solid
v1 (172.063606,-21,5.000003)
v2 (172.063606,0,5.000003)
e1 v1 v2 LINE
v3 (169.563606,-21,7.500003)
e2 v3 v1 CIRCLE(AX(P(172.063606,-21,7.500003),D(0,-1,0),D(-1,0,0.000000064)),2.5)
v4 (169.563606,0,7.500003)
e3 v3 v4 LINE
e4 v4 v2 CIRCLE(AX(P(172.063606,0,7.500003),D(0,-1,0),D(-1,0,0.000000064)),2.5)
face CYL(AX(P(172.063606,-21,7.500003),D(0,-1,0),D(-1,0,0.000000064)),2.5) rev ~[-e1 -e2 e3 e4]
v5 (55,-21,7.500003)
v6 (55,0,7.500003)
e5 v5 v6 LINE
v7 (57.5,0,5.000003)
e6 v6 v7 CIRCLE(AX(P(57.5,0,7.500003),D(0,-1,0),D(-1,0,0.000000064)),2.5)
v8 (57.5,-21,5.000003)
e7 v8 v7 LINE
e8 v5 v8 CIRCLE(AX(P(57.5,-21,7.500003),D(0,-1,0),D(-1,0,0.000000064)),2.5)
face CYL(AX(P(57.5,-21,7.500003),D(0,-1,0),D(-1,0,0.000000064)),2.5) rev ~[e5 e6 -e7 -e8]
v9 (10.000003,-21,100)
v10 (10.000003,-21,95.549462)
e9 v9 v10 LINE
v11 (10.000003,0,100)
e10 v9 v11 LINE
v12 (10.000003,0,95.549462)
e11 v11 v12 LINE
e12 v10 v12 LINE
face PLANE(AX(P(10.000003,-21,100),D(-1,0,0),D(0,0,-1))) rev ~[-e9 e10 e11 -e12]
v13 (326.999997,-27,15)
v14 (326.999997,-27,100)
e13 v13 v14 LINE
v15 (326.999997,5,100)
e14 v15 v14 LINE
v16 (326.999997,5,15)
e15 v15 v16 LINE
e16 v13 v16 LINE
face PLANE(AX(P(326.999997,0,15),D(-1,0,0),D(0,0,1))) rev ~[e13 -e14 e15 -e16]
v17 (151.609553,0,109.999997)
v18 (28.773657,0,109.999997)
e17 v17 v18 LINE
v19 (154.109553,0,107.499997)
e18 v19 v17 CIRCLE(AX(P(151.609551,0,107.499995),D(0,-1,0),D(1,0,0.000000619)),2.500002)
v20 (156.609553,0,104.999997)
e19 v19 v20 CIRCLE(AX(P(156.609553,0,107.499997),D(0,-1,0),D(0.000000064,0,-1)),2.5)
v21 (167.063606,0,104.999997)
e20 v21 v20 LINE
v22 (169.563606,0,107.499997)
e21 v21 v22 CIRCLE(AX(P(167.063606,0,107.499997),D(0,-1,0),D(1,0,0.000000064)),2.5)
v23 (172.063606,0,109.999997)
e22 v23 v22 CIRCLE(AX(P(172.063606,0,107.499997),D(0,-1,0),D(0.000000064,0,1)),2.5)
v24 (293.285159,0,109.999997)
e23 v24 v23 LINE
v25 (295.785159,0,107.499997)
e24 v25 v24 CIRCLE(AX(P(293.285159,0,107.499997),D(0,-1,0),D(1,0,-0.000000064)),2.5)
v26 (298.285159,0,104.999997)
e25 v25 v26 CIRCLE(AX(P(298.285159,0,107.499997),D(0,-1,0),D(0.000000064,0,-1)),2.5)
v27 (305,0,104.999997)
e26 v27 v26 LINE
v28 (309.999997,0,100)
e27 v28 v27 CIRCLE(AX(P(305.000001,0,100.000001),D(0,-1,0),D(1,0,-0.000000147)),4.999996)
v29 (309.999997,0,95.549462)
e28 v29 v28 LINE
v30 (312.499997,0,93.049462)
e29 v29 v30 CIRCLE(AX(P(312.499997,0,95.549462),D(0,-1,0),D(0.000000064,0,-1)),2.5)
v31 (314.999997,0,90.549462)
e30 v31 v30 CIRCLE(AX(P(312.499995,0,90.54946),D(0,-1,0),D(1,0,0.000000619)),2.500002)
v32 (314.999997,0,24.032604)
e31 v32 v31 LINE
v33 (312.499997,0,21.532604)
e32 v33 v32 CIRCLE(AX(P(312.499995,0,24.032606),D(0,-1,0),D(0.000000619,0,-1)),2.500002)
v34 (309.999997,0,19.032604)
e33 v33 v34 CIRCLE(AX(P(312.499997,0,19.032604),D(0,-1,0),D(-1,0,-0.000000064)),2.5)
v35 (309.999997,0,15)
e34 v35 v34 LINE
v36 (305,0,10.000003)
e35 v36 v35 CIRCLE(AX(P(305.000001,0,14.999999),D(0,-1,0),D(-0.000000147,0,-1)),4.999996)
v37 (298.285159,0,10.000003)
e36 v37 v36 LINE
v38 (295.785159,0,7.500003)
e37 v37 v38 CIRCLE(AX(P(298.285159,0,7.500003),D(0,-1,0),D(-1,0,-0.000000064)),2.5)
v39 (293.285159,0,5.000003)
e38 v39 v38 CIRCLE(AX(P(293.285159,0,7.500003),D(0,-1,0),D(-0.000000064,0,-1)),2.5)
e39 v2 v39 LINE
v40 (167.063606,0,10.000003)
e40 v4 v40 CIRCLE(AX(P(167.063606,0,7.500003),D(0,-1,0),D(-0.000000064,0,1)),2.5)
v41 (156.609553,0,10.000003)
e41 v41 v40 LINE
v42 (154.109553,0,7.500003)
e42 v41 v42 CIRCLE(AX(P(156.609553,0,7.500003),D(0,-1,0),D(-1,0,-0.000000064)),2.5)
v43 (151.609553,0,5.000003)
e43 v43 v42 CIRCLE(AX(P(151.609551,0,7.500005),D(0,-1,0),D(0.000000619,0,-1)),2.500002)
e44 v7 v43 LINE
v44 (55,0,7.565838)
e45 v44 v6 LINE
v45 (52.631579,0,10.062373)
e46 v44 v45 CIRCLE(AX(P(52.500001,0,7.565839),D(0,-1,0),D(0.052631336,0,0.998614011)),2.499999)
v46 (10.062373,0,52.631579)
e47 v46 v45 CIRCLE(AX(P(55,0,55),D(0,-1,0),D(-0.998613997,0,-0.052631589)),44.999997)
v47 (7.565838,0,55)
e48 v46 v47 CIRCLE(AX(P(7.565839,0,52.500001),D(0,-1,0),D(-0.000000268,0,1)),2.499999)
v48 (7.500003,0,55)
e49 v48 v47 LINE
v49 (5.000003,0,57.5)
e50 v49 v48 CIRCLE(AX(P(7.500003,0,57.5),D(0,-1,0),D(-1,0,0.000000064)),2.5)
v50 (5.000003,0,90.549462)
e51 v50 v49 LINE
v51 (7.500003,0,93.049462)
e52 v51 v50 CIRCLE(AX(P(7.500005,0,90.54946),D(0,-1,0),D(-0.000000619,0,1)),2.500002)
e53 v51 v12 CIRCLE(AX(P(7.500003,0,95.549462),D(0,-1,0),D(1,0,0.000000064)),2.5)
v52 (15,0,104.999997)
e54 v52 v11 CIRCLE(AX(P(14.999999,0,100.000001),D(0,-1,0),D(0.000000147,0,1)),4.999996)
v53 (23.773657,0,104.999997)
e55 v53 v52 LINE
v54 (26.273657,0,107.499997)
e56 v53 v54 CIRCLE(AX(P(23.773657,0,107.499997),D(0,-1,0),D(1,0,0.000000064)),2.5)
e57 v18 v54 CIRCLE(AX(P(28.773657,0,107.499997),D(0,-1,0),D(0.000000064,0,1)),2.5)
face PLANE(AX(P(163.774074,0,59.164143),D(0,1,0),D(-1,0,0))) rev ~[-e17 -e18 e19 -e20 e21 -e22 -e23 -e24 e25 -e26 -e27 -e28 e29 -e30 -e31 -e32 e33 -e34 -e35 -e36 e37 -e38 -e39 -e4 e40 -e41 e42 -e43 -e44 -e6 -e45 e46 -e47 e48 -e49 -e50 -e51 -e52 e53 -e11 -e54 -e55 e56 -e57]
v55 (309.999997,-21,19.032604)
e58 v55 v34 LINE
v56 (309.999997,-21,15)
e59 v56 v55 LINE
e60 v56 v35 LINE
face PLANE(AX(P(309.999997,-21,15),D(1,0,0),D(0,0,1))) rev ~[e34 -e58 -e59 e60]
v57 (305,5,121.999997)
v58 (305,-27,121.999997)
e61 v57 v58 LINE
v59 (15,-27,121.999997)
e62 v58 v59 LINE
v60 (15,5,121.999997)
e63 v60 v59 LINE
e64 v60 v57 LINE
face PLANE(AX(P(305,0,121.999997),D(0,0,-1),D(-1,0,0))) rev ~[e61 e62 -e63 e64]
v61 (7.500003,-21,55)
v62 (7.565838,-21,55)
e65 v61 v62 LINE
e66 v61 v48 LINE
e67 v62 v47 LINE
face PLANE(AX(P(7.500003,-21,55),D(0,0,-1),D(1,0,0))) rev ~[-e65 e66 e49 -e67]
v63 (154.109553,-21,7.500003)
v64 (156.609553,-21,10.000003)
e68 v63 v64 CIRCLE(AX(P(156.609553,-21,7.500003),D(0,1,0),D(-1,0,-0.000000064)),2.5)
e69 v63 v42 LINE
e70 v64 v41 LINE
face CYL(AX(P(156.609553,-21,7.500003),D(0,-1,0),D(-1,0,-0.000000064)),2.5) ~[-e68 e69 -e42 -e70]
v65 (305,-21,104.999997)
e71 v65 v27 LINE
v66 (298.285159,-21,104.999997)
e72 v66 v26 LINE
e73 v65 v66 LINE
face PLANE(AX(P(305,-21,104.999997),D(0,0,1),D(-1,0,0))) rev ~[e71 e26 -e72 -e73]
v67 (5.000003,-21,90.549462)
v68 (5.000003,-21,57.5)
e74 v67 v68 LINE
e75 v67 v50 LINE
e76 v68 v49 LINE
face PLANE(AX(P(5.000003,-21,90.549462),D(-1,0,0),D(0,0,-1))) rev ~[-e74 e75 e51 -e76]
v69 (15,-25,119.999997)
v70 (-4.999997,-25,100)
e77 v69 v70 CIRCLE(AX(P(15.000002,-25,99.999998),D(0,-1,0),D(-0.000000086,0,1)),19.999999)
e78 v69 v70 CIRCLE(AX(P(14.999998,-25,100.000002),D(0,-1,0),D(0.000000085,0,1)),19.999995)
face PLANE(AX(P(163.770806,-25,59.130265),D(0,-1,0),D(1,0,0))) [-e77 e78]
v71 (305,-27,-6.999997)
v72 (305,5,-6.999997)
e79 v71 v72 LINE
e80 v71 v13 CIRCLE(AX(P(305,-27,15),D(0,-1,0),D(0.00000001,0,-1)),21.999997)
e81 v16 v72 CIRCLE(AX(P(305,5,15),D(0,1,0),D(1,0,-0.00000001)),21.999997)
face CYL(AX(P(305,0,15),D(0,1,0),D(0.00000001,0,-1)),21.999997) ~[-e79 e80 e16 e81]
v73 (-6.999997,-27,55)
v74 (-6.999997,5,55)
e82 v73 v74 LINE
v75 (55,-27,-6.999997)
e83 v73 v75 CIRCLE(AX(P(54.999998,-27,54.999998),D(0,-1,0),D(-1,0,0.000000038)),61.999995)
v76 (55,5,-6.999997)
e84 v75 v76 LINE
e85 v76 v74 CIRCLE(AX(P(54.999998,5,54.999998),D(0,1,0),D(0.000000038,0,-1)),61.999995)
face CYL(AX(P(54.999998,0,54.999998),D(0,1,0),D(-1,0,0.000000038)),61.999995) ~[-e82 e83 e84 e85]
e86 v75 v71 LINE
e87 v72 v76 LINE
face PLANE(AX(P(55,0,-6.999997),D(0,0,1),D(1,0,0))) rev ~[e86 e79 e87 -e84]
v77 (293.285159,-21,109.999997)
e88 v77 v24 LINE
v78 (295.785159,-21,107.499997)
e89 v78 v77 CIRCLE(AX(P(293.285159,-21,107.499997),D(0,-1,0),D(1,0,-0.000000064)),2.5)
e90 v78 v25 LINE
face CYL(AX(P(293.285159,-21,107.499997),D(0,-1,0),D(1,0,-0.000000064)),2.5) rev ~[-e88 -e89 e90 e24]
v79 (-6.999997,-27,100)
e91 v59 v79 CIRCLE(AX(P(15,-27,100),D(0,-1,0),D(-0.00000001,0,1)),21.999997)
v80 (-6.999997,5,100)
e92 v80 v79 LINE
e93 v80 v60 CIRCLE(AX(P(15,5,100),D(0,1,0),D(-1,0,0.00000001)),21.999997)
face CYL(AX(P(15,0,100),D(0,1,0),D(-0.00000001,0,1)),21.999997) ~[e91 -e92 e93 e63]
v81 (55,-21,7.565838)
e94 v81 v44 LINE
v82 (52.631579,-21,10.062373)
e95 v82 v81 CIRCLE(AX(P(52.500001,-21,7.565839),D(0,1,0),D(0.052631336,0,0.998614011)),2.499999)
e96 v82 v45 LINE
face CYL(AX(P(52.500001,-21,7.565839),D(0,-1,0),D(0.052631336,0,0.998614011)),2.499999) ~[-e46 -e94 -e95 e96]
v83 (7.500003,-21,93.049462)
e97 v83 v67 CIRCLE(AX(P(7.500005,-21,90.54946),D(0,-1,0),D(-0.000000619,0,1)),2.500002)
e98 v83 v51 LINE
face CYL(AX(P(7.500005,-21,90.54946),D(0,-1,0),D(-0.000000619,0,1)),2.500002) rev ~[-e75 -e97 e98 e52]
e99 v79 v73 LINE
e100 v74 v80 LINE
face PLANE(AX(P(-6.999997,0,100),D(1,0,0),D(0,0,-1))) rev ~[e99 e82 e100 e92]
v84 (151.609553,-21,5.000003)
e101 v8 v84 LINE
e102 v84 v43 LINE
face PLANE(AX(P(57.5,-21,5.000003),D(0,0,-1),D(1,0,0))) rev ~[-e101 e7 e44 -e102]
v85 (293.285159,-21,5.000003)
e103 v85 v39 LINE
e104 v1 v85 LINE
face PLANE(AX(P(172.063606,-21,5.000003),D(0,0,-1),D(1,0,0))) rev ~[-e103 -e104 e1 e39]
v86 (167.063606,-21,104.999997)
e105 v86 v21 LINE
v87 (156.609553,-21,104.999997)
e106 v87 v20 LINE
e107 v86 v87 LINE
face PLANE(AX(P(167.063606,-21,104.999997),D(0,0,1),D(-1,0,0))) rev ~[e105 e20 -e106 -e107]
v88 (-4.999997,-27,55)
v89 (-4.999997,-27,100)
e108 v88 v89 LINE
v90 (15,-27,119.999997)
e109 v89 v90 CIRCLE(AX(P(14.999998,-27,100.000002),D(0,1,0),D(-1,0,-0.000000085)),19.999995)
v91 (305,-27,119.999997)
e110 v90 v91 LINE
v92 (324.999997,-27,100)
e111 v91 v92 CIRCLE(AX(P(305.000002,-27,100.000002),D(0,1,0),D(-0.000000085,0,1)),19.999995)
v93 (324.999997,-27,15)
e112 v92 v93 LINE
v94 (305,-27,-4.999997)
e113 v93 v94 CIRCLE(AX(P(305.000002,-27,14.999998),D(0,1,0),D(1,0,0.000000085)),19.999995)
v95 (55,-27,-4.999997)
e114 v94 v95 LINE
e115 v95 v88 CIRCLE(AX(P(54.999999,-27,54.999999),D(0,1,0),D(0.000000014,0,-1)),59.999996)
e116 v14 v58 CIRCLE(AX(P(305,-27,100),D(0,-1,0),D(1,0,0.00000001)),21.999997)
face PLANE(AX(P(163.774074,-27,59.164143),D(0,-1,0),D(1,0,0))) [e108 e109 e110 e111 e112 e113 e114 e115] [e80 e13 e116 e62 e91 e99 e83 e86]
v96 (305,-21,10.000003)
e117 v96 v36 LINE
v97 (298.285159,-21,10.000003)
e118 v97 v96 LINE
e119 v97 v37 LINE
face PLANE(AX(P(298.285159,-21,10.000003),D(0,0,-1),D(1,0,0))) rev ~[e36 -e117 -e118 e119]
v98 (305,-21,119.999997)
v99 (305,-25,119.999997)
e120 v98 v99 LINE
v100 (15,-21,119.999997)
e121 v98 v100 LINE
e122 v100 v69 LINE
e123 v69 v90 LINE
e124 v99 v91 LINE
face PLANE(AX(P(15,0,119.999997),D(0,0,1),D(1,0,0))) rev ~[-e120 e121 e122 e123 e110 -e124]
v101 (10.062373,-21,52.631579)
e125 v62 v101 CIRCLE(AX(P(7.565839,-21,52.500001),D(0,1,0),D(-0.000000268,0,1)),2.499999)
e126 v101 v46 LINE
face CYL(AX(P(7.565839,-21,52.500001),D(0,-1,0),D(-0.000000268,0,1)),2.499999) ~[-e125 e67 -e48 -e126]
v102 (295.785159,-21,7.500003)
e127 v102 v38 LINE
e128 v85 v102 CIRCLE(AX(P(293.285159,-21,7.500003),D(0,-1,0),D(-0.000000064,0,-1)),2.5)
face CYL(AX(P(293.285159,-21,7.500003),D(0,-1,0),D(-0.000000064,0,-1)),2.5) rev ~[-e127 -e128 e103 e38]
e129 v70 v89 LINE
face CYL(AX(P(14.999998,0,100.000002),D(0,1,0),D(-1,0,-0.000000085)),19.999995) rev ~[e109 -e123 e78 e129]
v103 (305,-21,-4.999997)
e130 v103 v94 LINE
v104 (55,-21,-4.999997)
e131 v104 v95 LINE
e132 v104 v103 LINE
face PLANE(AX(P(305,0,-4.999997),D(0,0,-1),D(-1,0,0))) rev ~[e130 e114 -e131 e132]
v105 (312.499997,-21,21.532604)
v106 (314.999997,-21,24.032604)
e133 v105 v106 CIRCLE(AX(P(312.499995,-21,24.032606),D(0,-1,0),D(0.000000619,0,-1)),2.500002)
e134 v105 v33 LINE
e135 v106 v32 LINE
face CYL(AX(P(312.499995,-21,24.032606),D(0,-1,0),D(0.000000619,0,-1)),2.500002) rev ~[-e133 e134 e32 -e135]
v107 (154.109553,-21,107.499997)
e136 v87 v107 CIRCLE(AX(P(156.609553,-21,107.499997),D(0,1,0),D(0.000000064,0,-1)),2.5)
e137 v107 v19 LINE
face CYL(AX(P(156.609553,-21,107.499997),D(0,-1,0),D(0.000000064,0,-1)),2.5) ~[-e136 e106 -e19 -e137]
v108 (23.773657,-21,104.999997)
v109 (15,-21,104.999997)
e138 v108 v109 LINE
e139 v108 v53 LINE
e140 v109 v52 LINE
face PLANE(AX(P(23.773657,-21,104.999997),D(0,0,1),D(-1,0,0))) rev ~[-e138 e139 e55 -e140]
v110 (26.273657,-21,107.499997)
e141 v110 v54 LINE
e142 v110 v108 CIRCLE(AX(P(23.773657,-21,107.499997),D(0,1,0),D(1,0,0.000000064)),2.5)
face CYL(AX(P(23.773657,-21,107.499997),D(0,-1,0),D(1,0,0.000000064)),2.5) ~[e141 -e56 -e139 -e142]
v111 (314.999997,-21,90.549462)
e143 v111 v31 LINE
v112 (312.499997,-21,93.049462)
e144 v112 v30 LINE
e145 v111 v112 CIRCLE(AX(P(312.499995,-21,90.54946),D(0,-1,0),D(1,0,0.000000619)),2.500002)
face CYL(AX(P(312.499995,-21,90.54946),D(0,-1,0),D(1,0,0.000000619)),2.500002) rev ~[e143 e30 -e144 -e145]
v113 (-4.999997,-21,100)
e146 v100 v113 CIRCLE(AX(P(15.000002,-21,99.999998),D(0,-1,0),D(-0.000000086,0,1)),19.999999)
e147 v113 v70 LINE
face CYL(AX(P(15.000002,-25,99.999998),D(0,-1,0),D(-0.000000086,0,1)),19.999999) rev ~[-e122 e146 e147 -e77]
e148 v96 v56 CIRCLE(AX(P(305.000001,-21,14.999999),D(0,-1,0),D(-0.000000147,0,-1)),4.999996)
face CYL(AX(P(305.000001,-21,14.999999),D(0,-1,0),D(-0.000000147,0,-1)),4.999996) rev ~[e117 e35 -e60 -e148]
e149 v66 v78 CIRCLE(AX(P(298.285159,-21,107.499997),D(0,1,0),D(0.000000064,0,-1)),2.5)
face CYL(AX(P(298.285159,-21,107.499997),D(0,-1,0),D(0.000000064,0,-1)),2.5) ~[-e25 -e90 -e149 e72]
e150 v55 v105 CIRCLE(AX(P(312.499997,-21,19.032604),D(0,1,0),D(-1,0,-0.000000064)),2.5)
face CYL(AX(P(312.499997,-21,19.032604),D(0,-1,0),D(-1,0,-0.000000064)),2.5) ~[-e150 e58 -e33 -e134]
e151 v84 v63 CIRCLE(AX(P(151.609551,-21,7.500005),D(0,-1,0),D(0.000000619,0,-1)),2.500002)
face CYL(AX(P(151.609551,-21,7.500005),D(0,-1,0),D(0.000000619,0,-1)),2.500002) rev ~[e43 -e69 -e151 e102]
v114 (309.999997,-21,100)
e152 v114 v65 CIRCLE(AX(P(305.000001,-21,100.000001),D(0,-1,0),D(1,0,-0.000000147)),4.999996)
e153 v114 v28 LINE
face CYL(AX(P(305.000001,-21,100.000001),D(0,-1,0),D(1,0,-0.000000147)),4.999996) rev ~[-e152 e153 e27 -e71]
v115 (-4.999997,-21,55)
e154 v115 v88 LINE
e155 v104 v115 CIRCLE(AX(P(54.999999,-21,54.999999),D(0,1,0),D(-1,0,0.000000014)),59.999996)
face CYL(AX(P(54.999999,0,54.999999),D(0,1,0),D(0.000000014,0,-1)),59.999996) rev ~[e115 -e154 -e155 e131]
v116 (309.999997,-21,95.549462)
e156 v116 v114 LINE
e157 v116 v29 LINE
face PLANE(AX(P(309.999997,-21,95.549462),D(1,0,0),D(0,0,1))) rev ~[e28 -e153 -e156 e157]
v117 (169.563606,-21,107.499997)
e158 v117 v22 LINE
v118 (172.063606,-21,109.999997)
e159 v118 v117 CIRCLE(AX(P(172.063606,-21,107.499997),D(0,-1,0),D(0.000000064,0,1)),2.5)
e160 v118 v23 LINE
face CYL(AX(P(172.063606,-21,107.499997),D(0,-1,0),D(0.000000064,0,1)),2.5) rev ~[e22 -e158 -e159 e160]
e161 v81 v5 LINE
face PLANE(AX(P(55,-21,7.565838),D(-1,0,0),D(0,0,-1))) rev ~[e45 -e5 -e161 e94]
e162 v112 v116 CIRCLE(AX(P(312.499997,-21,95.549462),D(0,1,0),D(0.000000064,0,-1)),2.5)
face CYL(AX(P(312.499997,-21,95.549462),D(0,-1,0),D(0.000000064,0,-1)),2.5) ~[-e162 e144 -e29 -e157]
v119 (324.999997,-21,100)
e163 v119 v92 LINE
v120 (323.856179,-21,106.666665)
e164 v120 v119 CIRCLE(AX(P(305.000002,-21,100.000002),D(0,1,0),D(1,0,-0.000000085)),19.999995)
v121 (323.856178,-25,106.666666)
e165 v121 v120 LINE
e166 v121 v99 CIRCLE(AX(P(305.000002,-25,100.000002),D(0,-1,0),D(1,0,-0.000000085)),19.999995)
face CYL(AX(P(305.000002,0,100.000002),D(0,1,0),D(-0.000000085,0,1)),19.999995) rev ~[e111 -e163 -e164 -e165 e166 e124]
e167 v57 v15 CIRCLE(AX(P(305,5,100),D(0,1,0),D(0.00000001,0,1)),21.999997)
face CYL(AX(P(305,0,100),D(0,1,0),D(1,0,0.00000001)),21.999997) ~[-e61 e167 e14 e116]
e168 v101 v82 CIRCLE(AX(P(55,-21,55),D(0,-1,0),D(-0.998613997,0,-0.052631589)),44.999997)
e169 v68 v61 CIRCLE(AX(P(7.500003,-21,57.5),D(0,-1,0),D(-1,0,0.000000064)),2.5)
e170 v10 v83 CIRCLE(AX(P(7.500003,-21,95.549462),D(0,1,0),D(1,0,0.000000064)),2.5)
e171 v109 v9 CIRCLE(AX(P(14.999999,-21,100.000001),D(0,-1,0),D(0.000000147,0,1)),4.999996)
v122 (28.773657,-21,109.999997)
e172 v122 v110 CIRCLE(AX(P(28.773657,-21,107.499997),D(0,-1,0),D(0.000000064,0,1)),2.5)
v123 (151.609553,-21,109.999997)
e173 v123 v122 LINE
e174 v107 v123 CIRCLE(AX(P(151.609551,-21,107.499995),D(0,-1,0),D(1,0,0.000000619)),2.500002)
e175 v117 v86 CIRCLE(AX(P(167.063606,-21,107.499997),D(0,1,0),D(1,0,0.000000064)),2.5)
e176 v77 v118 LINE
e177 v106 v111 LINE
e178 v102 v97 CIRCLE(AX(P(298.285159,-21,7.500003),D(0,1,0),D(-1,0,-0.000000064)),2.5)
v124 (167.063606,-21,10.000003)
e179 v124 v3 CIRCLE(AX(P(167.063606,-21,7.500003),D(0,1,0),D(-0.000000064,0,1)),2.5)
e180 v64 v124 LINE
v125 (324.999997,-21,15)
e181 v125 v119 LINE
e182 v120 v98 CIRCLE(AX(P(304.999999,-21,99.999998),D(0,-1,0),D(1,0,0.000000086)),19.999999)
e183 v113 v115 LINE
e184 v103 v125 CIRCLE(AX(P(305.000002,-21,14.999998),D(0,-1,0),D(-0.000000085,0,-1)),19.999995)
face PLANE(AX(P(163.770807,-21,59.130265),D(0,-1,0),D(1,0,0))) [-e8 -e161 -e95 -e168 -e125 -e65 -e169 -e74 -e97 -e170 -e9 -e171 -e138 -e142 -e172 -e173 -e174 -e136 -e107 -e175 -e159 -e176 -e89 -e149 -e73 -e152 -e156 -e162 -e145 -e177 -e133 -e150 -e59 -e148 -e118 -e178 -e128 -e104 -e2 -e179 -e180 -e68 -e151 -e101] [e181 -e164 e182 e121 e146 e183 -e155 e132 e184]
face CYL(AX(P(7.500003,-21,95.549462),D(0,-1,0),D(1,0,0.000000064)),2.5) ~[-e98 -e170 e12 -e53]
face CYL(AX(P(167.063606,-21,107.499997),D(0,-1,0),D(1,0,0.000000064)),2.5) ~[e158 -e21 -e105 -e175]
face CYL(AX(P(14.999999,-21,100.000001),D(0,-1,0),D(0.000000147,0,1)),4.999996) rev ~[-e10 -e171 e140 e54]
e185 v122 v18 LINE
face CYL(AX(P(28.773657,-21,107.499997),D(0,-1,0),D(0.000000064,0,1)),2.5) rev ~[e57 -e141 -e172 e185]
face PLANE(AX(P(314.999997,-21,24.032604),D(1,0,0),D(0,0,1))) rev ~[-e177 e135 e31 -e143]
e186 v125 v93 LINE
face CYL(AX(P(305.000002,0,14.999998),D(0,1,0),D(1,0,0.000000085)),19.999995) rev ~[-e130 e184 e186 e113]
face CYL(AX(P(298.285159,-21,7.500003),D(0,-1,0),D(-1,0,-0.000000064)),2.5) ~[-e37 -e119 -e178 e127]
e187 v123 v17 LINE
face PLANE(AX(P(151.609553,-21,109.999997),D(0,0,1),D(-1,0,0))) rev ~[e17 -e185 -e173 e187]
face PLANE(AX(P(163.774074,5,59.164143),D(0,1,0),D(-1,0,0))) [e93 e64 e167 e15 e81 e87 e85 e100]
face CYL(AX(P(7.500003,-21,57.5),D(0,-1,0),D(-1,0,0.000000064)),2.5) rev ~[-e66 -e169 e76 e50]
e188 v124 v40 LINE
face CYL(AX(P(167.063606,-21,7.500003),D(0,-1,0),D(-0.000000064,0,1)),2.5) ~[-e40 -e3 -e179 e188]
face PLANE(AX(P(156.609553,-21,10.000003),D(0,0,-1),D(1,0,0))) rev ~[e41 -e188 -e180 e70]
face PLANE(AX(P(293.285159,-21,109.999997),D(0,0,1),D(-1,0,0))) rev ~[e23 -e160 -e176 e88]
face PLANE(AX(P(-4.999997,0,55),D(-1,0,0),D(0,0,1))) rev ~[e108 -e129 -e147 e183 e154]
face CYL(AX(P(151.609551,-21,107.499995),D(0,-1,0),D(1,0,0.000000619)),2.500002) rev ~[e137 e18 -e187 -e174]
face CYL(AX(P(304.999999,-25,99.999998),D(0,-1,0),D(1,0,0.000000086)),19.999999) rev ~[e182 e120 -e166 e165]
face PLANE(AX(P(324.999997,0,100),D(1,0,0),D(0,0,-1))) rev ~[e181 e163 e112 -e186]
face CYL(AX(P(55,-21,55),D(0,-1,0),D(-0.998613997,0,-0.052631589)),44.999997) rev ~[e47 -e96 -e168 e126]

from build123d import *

# Parameters (mm, degrees)
F2_DEPTH = 25
F3_DEPTH = 4
F5_DEPTH = 25
F7_DEPTH = 5
F9_DEPTH = 27


with BuildPart() as f2:
    # F1 (on Front) → F2 (new body)
    with BuildSketch(Plane.XZ):
        with BuildLine():
            Line((-4.999997, 100), (-4.999997, 55))
            ThreePointArc((-4.999997, 55), (12.573595, 12.573595), (55, -4.999997))
            Line((55, -4.999997), (305, -4.999997))
            ThreePointArc((305, -4.999997), (319.142134, 0.857866), (324.999997, 15))
            Line((324.999997, 15), (324.999997, 100))
            ThreePointArc((324.999997, 100), (319.142134, 114.142134), (305, 119.999997))
            Line((305, 119.999997), (15, 119.999997))
            ThreePointArc((15, 119.999997), (0.857866, 114.142134), (-4.999997, 100))
        make_face()
    extrude(amount=F2_DEPTH)

    # F2_face (on face) + F0 (on Front) → F3 (cut)
    with BuildSketch(Plane(origin=(162.569356, -25, 58.319242), x_dir=(1, 0, 0), z_dir=(0, -1, 0))):
        with BuildLine():
            Line((-167.569353, 41.680758), (-167.569353, -3.319242))
            ThreePointArc((-167.569353, -3.319242), (-149.995761, -45.745647), (-107.569356, -63.31924))
            Line((-107.569356, -63.31924), (142.430644, -63.31924))
            ThreePointArc((142.430644, -63.31924), (156.572778, -57.461376), (162.430642, -43.319242))
            Line((162.430642, -43.319242), (162.430642, 41.680758))
            ThreePointArc((162.430642, 41.680758), (156.572778, 55.822891), (142.430644, 61.680755))
            Line((142.430644, 61.680755), (-147.569356, 61.680755))
            ThreePointArc((-147.569356, 61.680755), (-161.711489, 55.822891), (-167.569353, 41.680758))
        make_face()
        with BuildLine():
            Line((-167.569353, -3.319242), (-167.569353, 41.680758))
            ThreePointArc((-167.569353, 41.680758), (-161.711489, 55.822891), (-147.569356, 61.680755))
            Line((-147.569356, 61.680755), (142.430644, 61.680755))
            ThreePointArc((142.430644, 61.680755), (156.572778, 55.822891), (162.430642, 41.680758))
            Line((162.430642, 41.680758), (162.430642, -43.319242))
            ThreePointArc((162.430642, -43.319242), (156.572778, -57.461376), (142.430644, -63.31924))
            Line((142.430644, -63.31924), (-107.569356, -63.31924))
            ThreePointArc((-107.569356, -63.31924), (-149.995761, -45.745647), (-167.569353, -3.319242))
        make_face()
    with BuildSketch(Plane.XZ):
        with BuildLine():
            Line((186.97083, 115), (189.871952, 0))
            Line((189.871952, 0), (305, 0))
            ThreePointArc((305, 0), (315.606602, 4.393398), (320, 15))
            Line((320, 15), (320, 100))
            ThreePointArc((320, 100), (315.606602, 110.606602), (305, 115))
            Line((305, 115), (186.97083, 115))
        make_face()
    extrude(amount=-F3_DEPTH, mode=Mode.SUBTRACT)

    # F4 (on face) → F5 (cut)
    with BuildSketch(Plane.XZ.offset(21)):
        with BuildLine():
            Line((298.285159, 10.000003), (305, 10.000003))
            ThreePointArc((305, 10.000003), (308.535532, 11.464468), (309.999997, 15))
            Line((309.999997, 15), (309.999997, 19.032604))
            ThreePointArc((309.999997, 19.032604), (310.73223, 20.800371), (312.499997, 21.532604))
            ThreePointArc((312.499997, 21.532604), (314.267764, 22.264838), (314.999997, 24.032604))
            Line((314.999997, 24.032604), (314.999997, 90.549462))
            ThreePointArc((314.999997, 90.549462), (314.267764, 92.317228), (312.499997, 93.049462))
            ThreePointArc((312.499997, 93.049462), (310.73223, 93.781695), (309.999997, 95.549462))
            Line((309.999997, 95.549462), (309.999997, 100))
            ThreePointArc((309.999997, 100), (308.535532, 103.535532), (305, 104.999997))
            Line((305, 104.999997), (298.285159, 104.999997))
            ThreePointArc((298.285159, 104.999997), (296.517392, 105.73223), (295.785159, 107.499997))
            ThreePointArc((295.785159, 107.499997), (295.052926, 109.267764), (293.285159, 109.999997))
            Line((293.285159, 109.999997), (172.063606, 109.999997))
            ThreePointArc((172.063606, 109.999997), (170.295839, 109.267764), (169.563606, 107.499997))
            ThreePointArc((169.563606, 107.499997), (168.831373, 105.73223), (167.063606, 104.999997))
            Line((167.063606, 104.999997), (156.609553, 104.999997))
            ThreePointArc((156.609553, 104.999997), (154.841786, 105.73223), (154.109553, 107.499997))
            ThreePointArc((154.109553, 107.499997), (153.377319, 109.267764), (151.609553, 109.999997))
            Line((151.609553, 109.999997), (28.773657, 109.999997))
            ThreePointArc((28.773657, 109.999997), (27.00589, 109.267764), (26.273657, 107.499997))
            ThreePointArc((26.273657, 107.499997), (25.541424, 105.73223), (23.773657, 104.999997))
            Line((23.773657, 104.999997), (15, 104.999997))
            ThreePointArc((15, 104.999997), (11.464468, 103.535532), (10.000003, 100))
            Line((10.000003, 100), (10.000003, 95.549462))
            ThreePointArc((10.000003, 95.549462), (9.26777, 93.781695), (7.500003, 93.049462))
            ThreePointArc((7.500003, 93.049462), (5.732236, 92.317228), (5.000003, 90.549462))
            Line((5.000003, 90.549462), (5.000003, 57.5))
            ThreePointArc((5.000003, 57.5), (5.732236, 55.732233), (7.500003, 55))
            Line((7.500003, 55), (7.565838, 55))
            ThreePointArc((7.565838, 55), (9.286456, 54.313691), (10.062373, 52.631579))
            ThreePointArc((10.062373, 52.631579), (23.180197, 23.180197), (52.631579, 10.062373))
            ThreePointArc((52.631579, 10.062373), (54.313691, 9.286456), (55, 7.565838))
            Line((55, 7.565838), (55, 7.500003))
            ThreePointArc((55, 7.500003), (55.732233, 5.732236), (57.5, 5.000003))
            Line((57.5, 5.000003), (151.609553, 5.000003))
            ThreePointArc((151.609553, 5.000003), (153.377319, 5.732236), (154.109553, 7.500003))
            ThreePointArc((154.109553, 7.500003), (154.841786, 9.26777), (156.609553, 10.000003))
            Line((156.609553, 10.000003), (167.063606, 10.000003))
            ThreePointArc((167.063606, 10.000003), (168.831373, 9.26777), (169.563606, 7.500003))
            ThreePointArc((169.563606, 7.500003), (170.295839, 5.732236), (172.063606, 5.000003))
            Line((172.063606, 5.000003), (293.285159, 5.000003))
            ThreePointArc((293.285159, 5.000003), (295.052926, 5.732236), (295.785159, 7.500003))
            ThreePointArc((295.785159, 7.500003), (296.517392, 9.26777), (298.285159, 10.000003))
        make_face()
    extrude(amount=-F5_DEPTH, mode=Mode.SUBTRACT)

    # F6 (on face) → F7 (join)
    with BuildSketch(Plane(origin=(0, 0, 0), x_dir=(-1, 0, 0), z_dir=(0, 1, 0))):
        with BuildLine():
            Line((6.999997, 55), (6.999997, 100))
            ThreePointArc((6.999997, 100), (0.556347, 115.556347), (-15, 121.999997))
            Line((-15, 121.999997), (-305, 121.999997))
            ThreePointArc((-305, 121.999997), (-320.556347, 115.556347), (-326.999997, 100))
            Line((-326.999997, 100), (-326.999997, 15))
            ThreePointArc((-326.999997, 15), (-320.556347, -0.556347), (-305, -6.999997))
            Line((-305, -6.999997), (-55, -6.999997))
            ThreePointArc((-55, -6.999997), (-11.159381, 11.159381), (6.999997, 55))
        make_face()
    extrude(amount=F7_DEPTH)

    # F8 (on face) → F9 (join)
    with BuildSketch(Plane.XZ):
        with BuildLine():
            Line((326.999997, 15), (326.999997, 100))
            ThreePointArc((326.999997, 100), (320.556347, 115.556347), (305, 121.999997))
            Line((305, 121.999997), (15, 121.999997))
            ThreePointArc((15, 121.999997), (-0.556347, 115.556347), (-6.999997, 100))
            Line((-6.999997, 100), (-6.999997, 55))
            ThreePointArc((-6.999997, 55), (11.159381, 11.159381), (55, -6.999997))
            Line((55, -6.999997), (305, -6.999997))
            ThreePointArc((305, -6.999997), (320.556347, -0.556347), (326.999997, 15))
        make_face()
        with BuildLine():
            ThreePointArc((-4.999997, 100), (0.857866, 114.142134), (15, 119.999997))
            Line((15, 119.999997), (305, 119.999997))
            ThreePointArc((305, 119.999997), (319.142134, 114.142134), (324.999997, 100))
            Line((324.999997, 100), (324.999997, 15))
            ThreePointArc((324.999997, 15), (319.142134, 0.857866), (305, -4.999997))
            Line((305, -4.999997), (55, -4.999997))
            ThreePointArc((55, -4.999997), (12.573595, 12.573595), (-4.999997, 55))
            Line((-4.999997, 55), (-4.999997, 100))
        make_face(mode=Mode.SUBTRACT)
    extrude(amount=F9_DEPTH)


solid = f2.part
